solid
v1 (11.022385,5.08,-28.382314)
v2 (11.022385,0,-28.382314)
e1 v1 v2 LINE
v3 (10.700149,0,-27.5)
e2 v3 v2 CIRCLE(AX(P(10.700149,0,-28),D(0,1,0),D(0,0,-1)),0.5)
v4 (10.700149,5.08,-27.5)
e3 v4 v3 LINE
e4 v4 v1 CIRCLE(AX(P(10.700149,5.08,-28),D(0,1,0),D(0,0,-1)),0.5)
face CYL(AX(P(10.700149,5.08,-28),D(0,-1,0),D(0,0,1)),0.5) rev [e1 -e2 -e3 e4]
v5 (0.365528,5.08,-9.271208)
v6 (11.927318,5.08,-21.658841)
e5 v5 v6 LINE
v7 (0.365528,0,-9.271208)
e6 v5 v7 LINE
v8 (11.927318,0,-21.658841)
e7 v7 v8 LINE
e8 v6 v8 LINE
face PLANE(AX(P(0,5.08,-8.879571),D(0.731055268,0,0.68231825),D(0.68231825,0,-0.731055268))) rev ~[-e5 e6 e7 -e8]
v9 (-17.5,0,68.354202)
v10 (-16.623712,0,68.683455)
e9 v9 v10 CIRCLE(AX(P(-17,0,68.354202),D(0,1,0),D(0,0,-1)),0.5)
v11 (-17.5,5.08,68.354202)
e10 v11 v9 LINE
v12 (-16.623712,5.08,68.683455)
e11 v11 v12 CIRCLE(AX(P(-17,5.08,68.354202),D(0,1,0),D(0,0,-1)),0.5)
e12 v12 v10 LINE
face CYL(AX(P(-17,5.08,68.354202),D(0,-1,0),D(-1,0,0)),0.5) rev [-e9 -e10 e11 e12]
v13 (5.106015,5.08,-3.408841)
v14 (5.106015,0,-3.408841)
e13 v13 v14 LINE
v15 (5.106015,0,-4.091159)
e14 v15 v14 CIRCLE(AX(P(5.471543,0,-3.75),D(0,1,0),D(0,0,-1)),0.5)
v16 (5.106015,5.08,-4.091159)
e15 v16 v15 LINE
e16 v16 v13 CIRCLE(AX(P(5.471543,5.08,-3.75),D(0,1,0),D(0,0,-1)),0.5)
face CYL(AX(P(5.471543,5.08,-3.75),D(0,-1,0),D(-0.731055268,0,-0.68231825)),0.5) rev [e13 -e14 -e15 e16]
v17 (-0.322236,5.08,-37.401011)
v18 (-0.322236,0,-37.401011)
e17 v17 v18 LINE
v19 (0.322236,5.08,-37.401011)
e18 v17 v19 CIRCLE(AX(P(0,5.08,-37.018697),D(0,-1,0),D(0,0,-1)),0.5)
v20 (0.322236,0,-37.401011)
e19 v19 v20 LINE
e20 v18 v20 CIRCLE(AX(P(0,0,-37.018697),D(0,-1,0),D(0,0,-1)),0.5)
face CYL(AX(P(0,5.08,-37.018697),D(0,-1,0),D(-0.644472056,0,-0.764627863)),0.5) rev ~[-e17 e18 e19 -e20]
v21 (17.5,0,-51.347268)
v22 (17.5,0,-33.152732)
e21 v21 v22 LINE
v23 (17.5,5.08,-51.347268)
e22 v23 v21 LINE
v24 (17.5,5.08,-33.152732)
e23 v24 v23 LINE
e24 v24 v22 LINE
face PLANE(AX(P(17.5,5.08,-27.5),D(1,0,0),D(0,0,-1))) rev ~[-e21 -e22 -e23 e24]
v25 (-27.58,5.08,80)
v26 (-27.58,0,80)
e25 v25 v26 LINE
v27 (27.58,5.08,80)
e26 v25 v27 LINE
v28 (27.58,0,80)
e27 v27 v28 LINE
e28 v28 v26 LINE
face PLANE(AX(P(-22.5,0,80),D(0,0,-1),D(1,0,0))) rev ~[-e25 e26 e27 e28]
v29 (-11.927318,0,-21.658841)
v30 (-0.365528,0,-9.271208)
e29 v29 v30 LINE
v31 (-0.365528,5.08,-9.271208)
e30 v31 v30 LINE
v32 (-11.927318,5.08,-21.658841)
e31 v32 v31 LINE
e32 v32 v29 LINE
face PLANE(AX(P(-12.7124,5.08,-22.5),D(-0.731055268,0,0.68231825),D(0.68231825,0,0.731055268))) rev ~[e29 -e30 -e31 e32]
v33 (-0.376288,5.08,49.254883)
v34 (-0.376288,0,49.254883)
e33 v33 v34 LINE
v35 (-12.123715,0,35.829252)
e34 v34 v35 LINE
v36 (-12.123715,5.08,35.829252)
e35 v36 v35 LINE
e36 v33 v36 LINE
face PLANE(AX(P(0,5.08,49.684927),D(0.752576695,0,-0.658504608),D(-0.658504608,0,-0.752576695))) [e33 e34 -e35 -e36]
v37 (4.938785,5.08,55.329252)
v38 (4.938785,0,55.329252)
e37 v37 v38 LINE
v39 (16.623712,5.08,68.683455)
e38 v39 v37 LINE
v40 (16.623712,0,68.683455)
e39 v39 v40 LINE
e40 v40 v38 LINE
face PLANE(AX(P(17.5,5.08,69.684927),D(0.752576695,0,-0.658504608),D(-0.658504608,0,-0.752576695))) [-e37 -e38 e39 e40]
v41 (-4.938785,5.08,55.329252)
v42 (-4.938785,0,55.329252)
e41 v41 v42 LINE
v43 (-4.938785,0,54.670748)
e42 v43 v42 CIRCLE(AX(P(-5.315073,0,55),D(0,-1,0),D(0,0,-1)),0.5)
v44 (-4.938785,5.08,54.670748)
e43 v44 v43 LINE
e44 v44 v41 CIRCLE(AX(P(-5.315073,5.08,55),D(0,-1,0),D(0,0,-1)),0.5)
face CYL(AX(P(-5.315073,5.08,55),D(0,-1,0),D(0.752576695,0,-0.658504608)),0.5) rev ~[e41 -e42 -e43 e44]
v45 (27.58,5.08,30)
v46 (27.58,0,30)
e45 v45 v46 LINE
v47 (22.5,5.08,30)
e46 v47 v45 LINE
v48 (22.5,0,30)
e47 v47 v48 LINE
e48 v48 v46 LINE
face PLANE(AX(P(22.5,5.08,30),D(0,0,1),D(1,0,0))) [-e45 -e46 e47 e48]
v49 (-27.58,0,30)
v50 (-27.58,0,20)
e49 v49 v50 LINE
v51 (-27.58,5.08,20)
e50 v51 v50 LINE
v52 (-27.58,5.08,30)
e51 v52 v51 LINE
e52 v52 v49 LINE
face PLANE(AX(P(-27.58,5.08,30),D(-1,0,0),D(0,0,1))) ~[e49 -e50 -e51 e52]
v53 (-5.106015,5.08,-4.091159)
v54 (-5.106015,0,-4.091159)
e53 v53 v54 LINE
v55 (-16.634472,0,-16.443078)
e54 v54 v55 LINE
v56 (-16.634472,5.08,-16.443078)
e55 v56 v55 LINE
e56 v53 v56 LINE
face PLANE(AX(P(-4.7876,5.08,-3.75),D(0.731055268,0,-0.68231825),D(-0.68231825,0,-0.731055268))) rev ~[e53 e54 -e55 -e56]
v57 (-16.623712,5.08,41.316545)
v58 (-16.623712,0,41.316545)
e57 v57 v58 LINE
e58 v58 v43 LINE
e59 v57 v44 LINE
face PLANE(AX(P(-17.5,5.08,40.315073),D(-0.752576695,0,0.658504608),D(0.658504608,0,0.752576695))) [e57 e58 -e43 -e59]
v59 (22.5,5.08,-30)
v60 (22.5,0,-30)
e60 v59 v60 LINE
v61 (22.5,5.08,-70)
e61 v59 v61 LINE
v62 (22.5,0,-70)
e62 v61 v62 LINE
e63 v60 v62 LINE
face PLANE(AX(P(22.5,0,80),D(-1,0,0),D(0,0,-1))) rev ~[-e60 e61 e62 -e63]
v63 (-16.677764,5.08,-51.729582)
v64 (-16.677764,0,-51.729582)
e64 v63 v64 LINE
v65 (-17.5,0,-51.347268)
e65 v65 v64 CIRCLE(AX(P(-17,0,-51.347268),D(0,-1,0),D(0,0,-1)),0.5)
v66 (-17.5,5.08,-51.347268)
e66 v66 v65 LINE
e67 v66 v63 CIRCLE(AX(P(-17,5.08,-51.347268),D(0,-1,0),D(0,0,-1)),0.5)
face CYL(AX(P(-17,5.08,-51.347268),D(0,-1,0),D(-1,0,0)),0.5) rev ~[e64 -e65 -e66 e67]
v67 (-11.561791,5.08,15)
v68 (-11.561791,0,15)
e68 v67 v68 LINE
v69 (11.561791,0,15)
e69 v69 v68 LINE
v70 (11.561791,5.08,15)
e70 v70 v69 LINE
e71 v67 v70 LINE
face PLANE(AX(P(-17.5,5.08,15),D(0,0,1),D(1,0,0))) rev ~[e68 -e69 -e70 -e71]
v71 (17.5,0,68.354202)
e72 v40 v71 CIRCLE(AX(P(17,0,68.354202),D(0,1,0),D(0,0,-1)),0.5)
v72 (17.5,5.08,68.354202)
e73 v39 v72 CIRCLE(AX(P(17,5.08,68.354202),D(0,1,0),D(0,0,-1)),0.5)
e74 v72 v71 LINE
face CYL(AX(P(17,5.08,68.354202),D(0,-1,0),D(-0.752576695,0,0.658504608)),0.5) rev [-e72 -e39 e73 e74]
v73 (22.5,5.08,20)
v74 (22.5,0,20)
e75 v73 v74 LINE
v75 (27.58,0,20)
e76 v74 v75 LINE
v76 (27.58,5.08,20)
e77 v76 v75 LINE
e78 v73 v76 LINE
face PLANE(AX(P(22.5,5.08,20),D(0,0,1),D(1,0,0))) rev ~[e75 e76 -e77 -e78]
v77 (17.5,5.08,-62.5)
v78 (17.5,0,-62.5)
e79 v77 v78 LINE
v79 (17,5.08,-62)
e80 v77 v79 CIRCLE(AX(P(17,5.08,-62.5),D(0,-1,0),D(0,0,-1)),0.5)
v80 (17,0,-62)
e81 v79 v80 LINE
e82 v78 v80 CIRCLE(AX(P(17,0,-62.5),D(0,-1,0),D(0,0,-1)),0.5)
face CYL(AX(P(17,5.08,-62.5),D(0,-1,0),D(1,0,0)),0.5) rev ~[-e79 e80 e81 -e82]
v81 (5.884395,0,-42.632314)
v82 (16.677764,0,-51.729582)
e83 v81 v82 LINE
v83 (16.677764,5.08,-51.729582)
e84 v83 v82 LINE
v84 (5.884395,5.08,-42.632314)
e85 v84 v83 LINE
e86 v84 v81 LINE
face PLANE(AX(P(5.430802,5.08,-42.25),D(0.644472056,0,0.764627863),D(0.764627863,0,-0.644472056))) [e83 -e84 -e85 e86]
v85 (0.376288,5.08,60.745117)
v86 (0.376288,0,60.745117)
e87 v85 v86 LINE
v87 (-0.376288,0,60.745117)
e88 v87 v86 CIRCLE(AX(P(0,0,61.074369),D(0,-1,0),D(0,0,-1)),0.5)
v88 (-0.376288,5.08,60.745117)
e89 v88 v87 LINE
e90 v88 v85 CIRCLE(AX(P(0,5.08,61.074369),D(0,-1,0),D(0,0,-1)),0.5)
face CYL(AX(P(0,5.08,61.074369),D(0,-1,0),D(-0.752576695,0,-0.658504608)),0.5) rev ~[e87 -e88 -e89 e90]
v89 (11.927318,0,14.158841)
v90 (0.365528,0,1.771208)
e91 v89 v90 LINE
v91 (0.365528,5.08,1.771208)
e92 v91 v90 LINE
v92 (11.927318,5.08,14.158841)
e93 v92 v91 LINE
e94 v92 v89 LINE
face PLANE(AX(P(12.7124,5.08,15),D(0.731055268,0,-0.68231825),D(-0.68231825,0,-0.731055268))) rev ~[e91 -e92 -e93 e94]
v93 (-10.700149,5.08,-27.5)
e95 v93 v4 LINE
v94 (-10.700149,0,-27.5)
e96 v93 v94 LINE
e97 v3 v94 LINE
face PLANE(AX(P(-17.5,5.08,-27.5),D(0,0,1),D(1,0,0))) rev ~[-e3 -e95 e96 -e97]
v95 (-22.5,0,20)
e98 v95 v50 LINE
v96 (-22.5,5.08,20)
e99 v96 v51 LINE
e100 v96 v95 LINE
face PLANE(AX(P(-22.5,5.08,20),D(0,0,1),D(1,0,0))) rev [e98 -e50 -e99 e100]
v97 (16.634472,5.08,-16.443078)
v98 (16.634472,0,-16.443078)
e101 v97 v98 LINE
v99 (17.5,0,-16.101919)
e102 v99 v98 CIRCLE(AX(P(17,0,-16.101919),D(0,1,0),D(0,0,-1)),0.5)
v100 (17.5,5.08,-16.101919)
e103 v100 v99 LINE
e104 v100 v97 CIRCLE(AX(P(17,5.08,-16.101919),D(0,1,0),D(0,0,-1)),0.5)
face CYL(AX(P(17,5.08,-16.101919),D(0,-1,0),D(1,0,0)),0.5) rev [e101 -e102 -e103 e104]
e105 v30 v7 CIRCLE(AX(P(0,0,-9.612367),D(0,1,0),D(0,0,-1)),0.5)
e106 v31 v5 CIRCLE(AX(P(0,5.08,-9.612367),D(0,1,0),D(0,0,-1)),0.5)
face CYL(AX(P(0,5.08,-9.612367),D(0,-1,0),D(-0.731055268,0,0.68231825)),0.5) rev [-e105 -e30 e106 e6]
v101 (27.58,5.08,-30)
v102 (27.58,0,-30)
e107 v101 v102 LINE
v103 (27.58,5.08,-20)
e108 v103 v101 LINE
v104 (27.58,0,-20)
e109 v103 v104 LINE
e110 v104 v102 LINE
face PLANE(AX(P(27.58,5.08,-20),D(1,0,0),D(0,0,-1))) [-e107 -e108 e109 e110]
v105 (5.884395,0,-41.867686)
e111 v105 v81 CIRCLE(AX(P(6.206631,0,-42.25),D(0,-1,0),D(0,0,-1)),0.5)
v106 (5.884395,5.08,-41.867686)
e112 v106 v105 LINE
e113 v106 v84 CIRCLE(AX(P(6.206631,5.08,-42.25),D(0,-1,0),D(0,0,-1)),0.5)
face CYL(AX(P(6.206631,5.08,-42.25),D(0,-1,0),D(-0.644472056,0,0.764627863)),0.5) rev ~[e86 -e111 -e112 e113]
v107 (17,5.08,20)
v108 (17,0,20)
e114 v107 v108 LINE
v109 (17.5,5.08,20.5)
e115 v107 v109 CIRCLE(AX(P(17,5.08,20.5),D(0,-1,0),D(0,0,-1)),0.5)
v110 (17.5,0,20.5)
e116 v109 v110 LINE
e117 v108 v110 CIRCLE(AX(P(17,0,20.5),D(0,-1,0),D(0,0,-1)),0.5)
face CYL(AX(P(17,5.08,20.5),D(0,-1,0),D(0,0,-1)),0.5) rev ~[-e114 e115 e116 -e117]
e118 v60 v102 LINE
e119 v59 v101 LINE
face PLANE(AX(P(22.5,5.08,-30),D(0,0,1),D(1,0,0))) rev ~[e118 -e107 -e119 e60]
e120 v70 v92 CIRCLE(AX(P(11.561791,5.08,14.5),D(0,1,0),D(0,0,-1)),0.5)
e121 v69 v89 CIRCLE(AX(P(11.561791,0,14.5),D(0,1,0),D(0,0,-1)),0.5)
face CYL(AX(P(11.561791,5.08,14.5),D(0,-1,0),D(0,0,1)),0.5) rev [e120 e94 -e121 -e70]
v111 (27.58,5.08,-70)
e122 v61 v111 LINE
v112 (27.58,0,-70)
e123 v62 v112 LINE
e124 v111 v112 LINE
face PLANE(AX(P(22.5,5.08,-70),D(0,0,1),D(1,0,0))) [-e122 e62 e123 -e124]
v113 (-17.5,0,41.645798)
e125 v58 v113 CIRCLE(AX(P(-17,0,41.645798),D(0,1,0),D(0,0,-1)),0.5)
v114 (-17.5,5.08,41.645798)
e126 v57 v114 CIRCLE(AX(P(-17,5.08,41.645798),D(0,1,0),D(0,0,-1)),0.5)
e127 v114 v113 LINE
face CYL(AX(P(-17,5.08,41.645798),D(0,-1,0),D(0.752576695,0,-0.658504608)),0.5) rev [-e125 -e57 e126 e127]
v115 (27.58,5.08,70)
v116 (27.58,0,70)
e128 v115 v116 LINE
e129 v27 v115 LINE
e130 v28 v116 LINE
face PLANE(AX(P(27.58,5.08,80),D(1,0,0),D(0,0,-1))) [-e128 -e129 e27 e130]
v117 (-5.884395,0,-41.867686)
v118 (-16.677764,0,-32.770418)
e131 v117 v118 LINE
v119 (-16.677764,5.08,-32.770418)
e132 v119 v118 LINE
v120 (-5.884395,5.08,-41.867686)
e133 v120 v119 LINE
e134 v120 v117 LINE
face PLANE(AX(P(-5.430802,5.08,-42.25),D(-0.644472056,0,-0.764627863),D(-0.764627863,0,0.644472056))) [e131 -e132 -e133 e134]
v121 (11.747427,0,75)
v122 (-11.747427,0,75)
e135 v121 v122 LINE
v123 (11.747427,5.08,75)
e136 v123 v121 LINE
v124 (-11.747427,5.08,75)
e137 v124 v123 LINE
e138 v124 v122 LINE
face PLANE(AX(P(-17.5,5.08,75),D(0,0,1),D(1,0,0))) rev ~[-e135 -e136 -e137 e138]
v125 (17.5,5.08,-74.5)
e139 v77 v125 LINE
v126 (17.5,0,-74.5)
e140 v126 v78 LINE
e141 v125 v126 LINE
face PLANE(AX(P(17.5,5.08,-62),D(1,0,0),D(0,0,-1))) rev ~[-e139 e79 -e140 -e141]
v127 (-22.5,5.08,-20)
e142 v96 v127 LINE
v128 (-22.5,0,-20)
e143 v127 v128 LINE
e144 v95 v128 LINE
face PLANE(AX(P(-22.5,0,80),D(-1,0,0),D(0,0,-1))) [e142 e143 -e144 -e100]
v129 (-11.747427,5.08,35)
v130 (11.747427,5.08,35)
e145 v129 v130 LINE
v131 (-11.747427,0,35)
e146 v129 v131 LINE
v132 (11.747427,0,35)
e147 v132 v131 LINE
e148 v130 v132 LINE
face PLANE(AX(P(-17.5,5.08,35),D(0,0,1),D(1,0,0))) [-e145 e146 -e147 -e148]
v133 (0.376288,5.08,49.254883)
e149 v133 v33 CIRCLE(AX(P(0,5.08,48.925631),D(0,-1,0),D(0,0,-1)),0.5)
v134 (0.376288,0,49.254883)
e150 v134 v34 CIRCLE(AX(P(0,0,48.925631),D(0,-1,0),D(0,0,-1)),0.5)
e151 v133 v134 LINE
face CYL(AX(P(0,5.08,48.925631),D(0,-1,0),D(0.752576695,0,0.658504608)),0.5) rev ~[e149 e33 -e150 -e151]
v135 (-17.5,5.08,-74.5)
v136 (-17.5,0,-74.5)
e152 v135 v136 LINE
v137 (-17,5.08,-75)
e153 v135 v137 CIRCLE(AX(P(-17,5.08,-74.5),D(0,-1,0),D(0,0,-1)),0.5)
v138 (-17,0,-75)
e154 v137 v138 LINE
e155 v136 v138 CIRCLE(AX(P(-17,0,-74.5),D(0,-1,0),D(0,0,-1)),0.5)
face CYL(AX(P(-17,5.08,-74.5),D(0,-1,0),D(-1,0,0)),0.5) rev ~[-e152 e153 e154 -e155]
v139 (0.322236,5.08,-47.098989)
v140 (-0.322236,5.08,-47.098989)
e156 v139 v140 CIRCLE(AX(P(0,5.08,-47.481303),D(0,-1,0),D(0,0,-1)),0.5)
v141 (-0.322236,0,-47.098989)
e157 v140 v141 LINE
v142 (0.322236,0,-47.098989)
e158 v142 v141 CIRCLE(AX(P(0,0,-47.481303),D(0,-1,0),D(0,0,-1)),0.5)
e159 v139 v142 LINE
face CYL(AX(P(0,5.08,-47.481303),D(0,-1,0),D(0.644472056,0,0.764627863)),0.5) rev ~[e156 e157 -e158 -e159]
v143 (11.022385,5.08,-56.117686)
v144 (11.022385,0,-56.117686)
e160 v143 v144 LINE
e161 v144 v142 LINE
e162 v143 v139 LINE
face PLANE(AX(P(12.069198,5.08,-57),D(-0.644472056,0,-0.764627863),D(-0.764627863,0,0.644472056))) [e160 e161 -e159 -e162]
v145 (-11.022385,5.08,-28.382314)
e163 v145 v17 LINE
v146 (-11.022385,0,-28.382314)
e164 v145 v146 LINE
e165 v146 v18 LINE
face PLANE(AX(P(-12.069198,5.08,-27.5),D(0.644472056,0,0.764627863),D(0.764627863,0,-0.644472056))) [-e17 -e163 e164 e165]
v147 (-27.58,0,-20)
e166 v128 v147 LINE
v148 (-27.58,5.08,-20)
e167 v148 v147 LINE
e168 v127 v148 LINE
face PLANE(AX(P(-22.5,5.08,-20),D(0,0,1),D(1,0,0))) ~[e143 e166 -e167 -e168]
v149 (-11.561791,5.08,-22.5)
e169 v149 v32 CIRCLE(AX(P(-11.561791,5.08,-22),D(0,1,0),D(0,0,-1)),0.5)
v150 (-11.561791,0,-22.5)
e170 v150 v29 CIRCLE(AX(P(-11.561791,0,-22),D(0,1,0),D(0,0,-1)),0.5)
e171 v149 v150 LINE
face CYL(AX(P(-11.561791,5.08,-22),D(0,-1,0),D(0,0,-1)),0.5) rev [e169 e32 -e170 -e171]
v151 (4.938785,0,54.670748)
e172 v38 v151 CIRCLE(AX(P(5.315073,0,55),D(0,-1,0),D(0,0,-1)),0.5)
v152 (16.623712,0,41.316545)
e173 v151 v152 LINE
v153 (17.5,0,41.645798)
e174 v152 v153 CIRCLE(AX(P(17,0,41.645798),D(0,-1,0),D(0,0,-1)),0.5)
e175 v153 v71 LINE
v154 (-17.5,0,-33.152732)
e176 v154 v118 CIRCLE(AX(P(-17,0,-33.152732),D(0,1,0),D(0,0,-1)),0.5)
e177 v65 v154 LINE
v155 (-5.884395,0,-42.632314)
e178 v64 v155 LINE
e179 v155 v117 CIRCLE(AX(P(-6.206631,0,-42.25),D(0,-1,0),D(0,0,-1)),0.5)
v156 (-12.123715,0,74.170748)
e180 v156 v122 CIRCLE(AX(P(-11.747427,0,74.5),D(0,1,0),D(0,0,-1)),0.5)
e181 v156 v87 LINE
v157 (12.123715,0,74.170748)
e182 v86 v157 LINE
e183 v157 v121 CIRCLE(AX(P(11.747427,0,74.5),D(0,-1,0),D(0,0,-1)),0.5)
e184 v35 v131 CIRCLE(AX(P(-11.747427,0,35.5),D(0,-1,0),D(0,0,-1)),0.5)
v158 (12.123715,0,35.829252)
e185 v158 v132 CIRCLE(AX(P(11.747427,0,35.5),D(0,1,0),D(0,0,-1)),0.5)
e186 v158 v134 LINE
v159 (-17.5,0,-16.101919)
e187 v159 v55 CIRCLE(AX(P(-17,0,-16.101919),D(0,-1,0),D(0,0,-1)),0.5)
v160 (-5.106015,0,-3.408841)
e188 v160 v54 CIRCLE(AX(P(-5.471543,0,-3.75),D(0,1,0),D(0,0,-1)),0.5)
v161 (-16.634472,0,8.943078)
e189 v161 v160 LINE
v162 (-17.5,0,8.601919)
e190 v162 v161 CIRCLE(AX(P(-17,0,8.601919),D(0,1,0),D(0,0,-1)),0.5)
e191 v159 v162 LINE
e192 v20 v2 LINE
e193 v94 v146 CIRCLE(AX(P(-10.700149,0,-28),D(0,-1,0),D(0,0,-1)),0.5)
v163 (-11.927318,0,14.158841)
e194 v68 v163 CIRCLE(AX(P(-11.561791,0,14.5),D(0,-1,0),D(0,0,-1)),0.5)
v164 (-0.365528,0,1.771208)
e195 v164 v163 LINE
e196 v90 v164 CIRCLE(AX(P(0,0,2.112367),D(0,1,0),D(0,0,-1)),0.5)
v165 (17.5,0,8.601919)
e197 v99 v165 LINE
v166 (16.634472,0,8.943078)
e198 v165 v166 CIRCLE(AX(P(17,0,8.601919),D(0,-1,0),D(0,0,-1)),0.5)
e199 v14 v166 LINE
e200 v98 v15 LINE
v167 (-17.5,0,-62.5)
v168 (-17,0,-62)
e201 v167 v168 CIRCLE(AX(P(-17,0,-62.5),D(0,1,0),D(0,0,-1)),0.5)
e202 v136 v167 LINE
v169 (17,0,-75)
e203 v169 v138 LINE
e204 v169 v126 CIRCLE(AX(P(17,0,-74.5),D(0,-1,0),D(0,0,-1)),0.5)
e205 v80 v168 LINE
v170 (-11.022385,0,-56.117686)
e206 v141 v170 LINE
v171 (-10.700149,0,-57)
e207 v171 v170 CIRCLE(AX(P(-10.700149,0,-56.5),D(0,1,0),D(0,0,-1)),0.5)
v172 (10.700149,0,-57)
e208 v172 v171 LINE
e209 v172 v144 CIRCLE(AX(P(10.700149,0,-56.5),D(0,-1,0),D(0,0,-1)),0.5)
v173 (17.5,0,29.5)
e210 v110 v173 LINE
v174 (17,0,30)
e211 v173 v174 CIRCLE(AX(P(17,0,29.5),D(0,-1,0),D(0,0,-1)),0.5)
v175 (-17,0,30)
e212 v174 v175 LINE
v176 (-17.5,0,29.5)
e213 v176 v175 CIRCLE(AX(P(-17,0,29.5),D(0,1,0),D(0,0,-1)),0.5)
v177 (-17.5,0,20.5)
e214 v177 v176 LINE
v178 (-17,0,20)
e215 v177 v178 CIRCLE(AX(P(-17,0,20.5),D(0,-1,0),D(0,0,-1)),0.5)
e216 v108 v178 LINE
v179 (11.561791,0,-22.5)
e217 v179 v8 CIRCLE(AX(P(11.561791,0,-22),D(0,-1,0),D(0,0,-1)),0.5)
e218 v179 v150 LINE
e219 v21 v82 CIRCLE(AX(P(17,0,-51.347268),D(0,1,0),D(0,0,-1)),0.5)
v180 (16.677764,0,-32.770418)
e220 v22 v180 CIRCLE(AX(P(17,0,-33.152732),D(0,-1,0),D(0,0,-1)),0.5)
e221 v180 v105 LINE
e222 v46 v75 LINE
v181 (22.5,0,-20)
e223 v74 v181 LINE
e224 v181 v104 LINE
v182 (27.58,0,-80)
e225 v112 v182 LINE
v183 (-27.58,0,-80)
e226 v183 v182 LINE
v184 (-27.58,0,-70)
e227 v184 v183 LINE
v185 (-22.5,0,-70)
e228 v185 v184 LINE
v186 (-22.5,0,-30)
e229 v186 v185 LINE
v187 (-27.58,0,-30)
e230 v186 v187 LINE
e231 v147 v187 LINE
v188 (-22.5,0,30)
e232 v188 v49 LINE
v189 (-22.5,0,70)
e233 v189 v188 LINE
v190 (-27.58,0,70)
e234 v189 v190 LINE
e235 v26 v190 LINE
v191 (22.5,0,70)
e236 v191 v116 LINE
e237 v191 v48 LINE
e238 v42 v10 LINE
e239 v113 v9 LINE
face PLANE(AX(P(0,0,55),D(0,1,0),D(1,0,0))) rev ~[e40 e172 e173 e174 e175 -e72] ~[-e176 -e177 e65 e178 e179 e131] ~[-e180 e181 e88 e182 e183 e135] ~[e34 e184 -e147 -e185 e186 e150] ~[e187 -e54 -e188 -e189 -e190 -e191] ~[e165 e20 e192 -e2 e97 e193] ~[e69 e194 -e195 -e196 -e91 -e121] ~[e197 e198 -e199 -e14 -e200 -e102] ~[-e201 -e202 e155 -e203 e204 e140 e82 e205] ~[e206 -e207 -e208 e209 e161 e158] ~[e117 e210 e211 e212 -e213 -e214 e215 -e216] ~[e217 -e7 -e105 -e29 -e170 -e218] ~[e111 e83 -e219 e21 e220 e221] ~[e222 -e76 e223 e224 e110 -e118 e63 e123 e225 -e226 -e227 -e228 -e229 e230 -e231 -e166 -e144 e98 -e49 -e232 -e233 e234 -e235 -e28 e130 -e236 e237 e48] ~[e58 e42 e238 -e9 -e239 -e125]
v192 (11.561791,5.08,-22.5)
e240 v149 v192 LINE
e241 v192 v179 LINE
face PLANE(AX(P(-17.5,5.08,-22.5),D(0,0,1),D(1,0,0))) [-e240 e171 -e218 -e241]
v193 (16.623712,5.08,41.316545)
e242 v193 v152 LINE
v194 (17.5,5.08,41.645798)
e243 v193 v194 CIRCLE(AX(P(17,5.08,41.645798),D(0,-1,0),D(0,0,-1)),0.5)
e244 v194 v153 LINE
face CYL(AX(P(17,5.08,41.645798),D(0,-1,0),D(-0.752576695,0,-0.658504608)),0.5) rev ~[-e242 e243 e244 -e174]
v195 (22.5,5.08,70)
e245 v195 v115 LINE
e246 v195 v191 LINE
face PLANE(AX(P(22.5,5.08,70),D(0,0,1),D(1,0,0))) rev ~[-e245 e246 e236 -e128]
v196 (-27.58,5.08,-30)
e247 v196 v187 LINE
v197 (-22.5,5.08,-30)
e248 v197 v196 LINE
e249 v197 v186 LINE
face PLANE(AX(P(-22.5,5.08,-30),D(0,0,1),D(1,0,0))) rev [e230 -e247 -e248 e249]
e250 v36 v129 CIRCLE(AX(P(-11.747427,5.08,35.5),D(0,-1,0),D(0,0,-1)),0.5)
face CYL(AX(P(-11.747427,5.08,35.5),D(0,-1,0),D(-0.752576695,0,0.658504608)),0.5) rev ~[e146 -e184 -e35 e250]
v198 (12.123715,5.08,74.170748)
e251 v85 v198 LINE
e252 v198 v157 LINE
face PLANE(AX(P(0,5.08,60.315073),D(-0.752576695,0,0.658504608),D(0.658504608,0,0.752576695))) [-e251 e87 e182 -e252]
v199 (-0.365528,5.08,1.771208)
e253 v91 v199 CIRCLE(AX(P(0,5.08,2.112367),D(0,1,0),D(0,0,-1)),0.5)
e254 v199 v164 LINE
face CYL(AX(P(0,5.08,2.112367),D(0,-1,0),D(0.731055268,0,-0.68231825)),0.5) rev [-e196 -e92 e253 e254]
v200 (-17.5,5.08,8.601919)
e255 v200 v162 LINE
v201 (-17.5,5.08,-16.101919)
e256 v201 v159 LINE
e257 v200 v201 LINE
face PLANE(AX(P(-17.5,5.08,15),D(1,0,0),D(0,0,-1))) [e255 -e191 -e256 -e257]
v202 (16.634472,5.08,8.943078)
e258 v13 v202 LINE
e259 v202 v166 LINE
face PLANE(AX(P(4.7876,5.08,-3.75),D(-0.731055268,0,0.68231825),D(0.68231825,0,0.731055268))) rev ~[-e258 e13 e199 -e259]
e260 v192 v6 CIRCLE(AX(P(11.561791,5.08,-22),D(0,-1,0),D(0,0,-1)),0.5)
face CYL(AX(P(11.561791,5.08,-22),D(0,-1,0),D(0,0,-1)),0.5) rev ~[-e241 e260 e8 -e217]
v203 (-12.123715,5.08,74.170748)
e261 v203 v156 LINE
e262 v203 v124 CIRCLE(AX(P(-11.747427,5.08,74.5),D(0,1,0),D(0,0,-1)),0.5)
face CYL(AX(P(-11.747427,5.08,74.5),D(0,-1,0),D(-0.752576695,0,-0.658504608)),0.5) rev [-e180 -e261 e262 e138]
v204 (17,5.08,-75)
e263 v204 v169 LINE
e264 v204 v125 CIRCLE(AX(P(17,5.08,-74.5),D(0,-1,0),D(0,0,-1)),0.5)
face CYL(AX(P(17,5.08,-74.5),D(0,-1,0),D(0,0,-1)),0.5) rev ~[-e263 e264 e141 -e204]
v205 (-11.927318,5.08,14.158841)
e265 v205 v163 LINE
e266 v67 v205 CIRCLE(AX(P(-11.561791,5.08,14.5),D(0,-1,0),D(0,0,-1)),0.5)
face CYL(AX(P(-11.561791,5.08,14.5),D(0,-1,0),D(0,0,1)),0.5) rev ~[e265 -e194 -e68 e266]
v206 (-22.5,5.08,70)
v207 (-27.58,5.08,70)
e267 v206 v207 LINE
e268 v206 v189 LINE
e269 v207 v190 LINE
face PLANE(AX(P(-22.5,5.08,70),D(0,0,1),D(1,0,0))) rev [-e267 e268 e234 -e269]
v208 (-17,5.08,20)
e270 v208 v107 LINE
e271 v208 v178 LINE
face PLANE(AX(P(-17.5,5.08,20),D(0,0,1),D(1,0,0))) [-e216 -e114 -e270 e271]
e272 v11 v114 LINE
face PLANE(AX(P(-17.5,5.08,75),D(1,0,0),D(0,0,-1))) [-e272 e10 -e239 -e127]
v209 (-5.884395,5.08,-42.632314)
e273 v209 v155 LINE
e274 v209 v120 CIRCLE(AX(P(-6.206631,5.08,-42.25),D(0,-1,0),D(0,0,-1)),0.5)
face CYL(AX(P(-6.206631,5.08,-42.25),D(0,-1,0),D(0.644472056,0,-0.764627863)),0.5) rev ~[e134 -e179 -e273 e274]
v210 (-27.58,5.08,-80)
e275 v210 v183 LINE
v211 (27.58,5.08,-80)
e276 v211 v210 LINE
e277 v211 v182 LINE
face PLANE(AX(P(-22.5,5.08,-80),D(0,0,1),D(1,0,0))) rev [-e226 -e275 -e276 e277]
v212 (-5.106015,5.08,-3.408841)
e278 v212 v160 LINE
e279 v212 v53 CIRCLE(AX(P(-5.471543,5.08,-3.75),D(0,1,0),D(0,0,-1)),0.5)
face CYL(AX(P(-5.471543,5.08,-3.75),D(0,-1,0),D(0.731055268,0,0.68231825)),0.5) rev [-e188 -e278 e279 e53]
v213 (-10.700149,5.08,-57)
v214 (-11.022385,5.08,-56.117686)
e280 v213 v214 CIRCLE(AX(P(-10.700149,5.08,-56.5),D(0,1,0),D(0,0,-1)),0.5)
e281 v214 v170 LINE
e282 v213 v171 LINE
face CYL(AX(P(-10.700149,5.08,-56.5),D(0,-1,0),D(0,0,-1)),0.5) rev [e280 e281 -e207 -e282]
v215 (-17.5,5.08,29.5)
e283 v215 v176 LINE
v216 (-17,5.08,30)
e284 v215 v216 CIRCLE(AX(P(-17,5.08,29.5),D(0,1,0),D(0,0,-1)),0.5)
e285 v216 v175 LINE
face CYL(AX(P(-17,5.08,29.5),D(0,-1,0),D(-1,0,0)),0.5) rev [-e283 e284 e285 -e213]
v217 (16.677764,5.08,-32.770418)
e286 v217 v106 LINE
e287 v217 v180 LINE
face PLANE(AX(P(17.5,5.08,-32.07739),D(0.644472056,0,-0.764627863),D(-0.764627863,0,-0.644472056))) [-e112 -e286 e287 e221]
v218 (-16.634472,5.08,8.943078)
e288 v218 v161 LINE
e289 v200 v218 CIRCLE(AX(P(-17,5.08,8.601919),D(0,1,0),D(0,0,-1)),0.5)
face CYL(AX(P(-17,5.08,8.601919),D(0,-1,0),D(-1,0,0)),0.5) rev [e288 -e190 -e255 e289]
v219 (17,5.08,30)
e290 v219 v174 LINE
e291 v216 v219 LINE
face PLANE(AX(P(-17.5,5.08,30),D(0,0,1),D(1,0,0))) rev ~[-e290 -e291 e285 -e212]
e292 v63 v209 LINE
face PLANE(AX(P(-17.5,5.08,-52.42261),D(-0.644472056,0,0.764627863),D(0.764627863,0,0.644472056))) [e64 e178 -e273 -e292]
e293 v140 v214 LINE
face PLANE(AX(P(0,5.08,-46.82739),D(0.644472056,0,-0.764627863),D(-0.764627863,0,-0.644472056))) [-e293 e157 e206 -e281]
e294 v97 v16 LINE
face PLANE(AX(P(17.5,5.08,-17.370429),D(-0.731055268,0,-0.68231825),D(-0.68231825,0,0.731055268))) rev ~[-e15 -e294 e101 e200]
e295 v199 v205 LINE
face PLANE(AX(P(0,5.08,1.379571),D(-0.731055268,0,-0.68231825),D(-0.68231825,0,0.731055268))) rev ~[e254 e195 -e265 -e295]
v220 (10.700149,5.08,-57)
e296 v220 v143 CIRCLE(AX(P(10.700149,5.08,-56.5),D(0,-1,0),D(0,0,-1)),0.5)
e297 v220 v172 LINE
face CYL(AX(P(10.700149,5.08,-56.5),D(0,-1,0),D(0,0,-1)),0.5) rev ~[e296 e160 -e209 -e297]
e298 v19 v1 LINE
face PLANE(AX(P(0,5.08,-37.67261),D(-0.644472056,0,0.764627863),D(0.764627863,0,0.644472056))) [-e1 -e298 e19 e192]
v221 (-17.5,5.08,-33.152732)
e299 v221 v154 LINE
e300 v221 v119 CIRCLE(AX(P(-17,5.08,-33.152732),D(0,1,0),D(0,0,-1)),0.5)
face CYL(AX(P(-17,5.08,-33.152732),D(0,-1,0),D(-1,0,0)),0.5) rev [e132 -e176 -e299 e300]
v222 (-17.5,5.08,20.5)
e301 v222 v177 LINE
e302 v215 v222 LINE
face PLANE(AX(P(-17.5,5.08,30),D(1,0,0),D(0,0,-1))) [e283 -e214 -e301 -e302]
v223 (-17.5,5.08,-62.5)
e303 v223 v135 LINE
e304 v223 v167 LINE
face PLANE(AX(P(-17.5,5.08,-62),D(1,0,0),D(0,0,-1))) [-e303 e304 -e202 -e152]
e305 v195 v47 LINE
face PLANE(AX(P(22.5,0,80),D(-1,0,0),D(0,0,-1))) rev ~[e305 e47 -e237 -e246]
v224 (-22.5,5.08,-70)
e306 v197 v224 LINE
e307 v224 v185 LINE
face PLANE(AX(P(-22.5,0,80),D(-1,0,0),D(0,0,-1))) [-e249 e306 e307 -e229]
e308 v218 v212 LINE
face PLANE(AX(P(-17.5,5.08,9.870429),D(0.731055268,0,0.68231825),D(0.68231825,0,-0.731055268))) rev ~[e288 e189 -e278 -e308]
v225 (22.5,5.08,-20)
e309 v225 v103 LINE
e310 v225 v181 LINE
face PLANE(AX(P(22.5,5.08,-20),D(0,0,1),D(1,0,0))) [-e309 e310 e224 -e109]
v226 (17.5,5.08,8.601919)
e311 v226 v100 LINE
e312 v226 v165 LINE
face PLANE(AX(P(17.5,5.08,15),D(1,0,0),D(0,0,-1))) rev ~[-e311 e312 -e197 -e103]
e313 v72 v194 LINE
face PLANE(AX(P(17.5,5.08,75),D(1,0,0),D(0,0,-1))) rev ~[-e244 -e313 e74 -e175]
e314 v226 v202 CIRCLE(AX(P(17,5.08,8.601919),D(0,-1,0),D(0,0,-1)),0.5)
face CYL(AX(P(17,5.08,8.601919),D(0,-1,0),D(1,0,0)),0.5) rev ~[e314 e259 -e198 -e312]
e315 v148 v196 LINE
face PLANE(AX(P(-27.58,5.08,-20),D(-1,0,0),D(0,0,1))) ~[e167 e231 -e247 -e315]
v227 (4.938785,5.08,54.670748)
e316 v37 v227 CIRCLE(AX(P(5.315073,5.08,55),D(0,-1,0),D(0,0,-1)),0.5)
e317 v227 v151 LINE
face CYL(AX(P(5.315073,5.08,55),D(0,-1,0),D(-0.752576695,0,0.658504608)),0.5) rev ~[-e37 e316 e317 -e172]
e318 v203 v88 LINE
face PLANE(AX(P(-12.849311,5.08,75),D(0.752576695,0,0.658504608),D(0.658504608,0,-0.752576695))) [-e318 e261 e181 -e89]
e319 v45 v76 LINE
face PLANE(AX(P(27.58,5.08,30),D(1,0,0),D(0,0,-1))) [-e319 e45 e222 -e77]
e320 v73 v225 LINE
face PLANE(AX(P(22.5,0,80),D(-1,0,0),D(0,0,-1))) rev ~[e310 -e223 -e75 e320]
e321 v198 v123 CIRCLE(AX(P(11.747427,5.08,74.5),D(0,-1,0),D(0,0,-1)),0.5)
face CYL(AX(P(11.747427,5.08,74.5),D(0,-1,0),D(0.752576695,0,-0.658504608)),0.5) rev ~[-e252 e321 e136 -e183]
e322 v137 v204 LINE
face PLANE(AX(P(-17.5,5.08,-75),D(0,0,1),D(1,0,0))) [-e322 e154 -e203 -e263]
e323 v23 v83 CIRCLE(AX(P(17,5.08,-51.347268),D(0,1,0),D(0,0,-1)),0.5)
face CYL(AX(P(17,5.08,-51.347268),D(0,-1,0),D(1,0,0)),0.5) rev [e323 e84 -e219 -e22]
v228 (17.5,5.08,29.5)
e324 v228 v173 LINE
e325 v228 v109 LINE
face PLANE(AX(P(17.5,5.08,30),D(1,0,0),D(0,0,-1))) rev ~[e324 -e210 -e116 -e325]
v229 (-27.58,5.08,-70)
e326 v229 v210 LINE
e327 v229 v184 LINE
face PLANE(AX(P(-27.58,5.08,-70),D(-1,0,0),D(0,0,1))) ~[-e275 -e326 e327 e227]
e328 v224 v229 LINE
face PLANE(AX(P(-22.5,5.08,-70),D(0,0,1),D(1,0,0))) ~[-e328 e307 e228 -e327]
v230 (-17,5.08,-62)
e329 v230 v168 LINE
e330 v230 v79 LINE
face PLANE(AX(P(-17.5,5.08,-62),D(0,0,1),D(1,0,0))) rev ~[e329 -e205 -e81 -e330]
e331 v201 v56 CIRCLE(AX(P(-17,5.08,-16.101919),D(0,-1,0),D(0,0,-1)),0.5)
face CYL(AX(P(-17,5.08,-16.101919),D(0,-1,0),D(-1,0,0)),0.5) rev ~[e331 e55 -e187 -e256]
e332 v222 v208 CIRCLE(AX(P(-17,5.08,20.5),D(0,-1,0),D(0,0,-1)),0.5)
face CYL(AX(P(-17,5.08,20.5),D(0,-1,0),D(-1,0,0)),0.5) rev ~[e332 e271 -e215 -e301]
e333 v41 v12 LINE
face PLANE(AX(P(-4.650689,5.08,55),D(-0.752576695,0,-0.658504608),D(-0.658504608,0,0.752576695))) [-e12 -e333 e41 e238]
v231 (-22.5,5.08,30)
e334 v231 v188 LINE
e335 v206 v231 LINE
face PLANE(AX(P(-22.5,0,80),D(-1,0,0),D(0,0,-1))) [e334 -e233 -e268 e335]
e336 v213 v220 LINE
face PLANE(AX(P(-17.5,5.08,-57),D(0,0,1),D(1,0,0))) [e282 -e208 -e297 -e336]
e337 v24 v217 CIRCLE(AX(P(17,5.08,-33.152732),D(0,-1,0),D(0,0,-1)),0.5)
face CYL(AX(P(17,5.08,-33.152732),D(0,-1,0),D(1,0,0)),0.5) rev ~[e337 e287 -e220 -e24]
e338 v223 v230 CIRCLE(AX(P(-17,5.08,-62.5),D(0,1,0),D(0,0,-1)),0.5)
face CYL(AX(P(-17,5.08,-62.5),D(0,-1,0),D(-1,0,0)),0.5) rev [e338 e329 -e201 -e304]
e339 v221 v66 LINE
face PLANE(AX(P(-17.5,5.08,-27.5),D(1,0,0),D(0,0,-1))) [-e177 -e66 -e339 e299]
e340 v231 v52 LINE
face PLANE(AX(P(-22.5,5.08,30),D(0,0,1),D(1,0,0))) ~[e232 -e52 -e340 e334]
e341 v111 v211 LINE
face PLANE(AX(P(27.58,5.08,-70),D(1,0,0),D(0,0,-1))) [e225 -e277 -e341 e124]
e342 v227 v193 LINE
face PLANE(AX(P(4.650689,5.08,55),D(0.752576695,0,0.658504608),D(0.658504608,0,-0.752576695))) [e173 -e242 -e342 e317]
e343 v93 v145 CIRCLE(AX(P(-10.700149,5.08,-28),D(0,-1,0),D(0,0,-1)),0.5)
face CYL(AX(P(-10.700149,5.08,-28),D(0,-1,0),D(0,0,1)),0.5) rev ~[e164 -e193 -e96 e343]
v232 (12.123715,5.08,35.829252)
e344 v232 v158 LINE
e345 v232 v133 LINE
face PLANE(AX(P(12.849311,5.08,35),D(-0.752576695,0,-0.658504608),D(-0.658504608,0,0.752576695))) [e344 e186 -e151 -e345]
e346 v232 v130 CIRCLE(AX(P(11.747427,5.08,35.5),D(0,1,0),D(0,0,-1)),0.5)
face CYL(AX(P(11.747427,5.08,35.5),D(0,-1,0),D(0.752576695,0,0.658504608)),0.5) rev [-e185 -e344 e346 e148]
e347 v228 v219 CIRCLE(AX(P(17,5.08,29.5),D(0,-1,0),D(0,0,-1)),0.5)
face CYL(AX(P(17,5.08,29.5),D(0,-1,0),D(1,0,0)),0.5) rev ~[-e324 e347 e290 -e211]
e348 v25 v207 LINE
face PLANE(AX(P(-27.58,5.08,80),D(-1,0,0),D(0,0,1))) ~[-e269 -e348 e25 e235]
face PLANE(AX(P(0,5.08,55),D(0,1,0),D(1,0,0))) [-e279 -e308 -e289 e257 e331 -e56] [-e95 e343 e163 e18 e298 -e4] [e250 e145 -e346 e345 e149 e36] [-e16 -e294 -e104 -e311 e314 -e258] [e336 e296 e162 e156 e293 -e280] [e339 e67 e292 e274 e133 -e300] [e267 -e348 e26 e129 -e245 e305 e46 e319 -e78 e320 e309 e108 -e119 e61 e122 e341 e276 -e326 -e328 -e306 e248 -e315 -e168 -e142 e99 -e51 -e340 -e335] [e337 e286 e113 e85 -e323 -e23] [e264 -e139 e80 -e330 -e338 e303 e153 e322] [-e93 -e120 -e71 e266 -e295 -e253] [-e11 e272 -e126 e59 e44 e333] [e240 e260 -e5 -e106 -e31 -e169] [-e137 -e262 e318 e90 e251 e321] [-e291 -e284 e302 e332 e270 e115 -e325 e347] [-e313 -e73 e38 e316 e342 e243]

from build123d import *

# Parameters (mm, degrees)
SKETCH1_W           = 45
SKETCH1_H           = 160
BOSS_EXTRUDE1_DEPTH = 5.08
SKETCH2_W           = 5.08
SKETCH2_H           = 10
BOSS_EXTRUDE2_DEPTH = 5.08
SKETCH3_W           = 35
SKETCH3_H           = 13
SKETCH3_H_2         = 29.5
SKETCH3_H_3         = 37.5
SKETCH3_H_4         = 10
SKETCH3_H_5         = 40
CUT_EXTRUDE1_DEPTH  = 6.08
BOSS_EXTRUDE3_DEPTH = 5.08
FILLET1_R           = 0.5


with BuildPart() as part:
    # Sketch1 → Boss-Extrude1 (new body)
    with BuildSketch(Plane(origin=(0, 0, 0), x_dir=(1, 0, 0), z_dir=(0, 1, 0))):
        Rectangle(SKETCH1_W, SKETCH1_H)
    extrude(amount=BOSS_EXTRUDE1_DEPTH)

    # Sketch2 → Boss-Extrude2 (add)
    with BuildSketch(Plane(origin=(0, 5.08, 0), x_dir=(1, 0, 0), z_dir=(0, 1, 0))):
        with Locations((25.04, 25)):
            Rectangle(SKETCH2_W, SKETCH2_H)
        with Locations((25.04, 75)):
            Rectangle(SKETCH2_W, SKETCH2_H)
        with Locations((25.04, -25)):
            Rectangle(SKETCH2_W, SKETCH2_H)
        with Locations((25.04, -75)):
            Rectangle(SKETCH2_W, SKETCH2_H)
    boss_extrude2 = extrude(amount=-BOSS_EXTRUDE2_DEPTH)

    # Mirror1: Boss-Extrude2 across plane
    add(boss_extrude2.mirror(Plane(origin=(0, 0, 0), x_dir=(0, 0, 1), z_dir=(1, 0, 0))))

    # Sketch3 → Cut-Extrude1 (cut, through all)
    with BuildSketch(Plane(origin=(0, 5.08, 0), x_dir=(1, 0, 0), z_dir=(0, 1, 0))):
        with Locations((0, 68.5)):
            Rectangle(SKETCH3_W, SKETCH3_H)
        with Locations((0, 42.25)):
            Rectangle(SKETCH3_W, SKETCH3_H_2)
        with Locations((0, 3.75)):
            Rectangle(SKETCH3_W, SKETCH3_H_3)
        with Locations((0, -25)):
            Rectangle(SKETCH3_W, SKETCH3_H_4)
        with Locations((0, -55)):
            Rectangle(SKETCH3_W, SKETCH3_H_5)
    extrude(amount=-CUT_EXTRUDE1_DEPTH, mode=Mode.SUBTRACT)

    # Sketch4 → Boss-Extrude3 (add)
    with BuildSketch(Plane(origin=(0, 5.08, 0), x_dir=(1, 0, 0), z_dir=(0, 1, 0))):
        Polygon((-17.5, -40.315072906), (-4.650688793, -55), (-17.5, -69.684927094), (-17.5, -75), (-12.849311207, -75), (0, -60.315072906), (12.849311207, -75), (17.5, -75), (17.5, -69.684927094), (4.650688793, -55), (17.5, -40.315072906), (17.5, -35), (12.849311207, -35), (0, -49.684927094), (-12.849311207, -35), (-17.5, -35), align=None)
        Polygon((-12.712400277, 22.5), (0, 8.879571132), (12.712400277, 22.5), (17.5, 22.5), (17.5, 17.370428868), (4.787599723, 3.75), (17.5, -9.870428868), (17.5, -15), (12.712400277, -15), (0, -1.379571132), (-12.712400277, -15), (-17.5, -15), (-17.5, -9.870428868), (-4.787599723, 3.75), (-17.5, 17.370428868), (-17.5, 22.5), align=None)
        Polygon((-17.5, 52.422609914), (-5.430801797, 42.25), (-17.5, 32.077390086), (-17.5, 27.5), (-12.069198203, 27.5), (0, 37.672609914), (12.069198203, 27.5), (17.5, 27.5), (17.5, 32.077390086), (5.430801797, 42.25), (17.5, 52.422609914), (17.5, 57), (12.069198203, 57), (0, 46.827390086), (-12.069198203, 57), (-17.5, 57), align=None)
    extrude(amount=-BOSS_EXTRUDE3_DEPTH)

    # Fillet1
    fillet1_edges = [part.edges().sort_by_distance(p)[0] for p in [
        (-17.5, 2.54, -62),
        (-17.5, 2.54, -75),
        (17.5, 2.54, -75),
        (17.5, 2.54, -62),
        (-17.5, 2.54, 30),
        (-17.5, 2.54, 20),
        (17.5, 2.54, 20),
        (17.5, 2.54, 30),
        (-12.849311207, 2.54, 75),
        (-17.5, 2.54, 69.684927094),
        (-4.650688793, 2.54, 55),
        (-17.5, 2.54, 40.315072906),
        (-12.849311207, 2.54, 35),
        (0, 2.54, 49.684927094),
        (12.849311207, 2.54, 35),
        (17.5, 2.54, 40.315072906),
        (4.650688793, 2.54, 55),
        (17.5, 2.54, 69.684927094),
        (12.849311207, 2.54, 75),
        (0, 2.54, 60.315072906),
        (-17.5, 2.54, 9.870428868),
        (-4.787599723, 2.54, -3.75),
        (-17.5, 2.54, -17.370428868),
        (-12.712400277, 2.54, -22.5),
        (0, 2.54, -8.879571132),
        (12.712400277, 2.54, -22.5),
        (17.5, 2.54, -17.370428868),
        (4.787599723, 2.54, -3.75),
        (17.5, 2.54, 9.870428868),
        (12.712400277, 2.54, 15),
        (0, 2.54, 1.379571132),
        (-12.712400277, 2.54, 15),
        (-12.069198203, 2.54, -27.5),
        (-17.5, 2.54, -32.077390086),
        (-5.430801797, 2.54, -42.25),
        (-17.5, 2.54, -52.422609914),
        (-12.069198203, 2.54, -57),
        (0, 2.54, -46.827390086),
        (12.069198203, 2.54, -57),
        (17.5, 2.54, -52.422609914),
        (5.430801797, 2.54, -42.25),
        (17.5, 2.54, -32.077390086),
        (12.069198203, 2.54, -27.5),
        (0, 2.54, -37.672609914),
    ]]
    fillet(fillet1_edges, radius=FILLET1_R)


solid = part.part
